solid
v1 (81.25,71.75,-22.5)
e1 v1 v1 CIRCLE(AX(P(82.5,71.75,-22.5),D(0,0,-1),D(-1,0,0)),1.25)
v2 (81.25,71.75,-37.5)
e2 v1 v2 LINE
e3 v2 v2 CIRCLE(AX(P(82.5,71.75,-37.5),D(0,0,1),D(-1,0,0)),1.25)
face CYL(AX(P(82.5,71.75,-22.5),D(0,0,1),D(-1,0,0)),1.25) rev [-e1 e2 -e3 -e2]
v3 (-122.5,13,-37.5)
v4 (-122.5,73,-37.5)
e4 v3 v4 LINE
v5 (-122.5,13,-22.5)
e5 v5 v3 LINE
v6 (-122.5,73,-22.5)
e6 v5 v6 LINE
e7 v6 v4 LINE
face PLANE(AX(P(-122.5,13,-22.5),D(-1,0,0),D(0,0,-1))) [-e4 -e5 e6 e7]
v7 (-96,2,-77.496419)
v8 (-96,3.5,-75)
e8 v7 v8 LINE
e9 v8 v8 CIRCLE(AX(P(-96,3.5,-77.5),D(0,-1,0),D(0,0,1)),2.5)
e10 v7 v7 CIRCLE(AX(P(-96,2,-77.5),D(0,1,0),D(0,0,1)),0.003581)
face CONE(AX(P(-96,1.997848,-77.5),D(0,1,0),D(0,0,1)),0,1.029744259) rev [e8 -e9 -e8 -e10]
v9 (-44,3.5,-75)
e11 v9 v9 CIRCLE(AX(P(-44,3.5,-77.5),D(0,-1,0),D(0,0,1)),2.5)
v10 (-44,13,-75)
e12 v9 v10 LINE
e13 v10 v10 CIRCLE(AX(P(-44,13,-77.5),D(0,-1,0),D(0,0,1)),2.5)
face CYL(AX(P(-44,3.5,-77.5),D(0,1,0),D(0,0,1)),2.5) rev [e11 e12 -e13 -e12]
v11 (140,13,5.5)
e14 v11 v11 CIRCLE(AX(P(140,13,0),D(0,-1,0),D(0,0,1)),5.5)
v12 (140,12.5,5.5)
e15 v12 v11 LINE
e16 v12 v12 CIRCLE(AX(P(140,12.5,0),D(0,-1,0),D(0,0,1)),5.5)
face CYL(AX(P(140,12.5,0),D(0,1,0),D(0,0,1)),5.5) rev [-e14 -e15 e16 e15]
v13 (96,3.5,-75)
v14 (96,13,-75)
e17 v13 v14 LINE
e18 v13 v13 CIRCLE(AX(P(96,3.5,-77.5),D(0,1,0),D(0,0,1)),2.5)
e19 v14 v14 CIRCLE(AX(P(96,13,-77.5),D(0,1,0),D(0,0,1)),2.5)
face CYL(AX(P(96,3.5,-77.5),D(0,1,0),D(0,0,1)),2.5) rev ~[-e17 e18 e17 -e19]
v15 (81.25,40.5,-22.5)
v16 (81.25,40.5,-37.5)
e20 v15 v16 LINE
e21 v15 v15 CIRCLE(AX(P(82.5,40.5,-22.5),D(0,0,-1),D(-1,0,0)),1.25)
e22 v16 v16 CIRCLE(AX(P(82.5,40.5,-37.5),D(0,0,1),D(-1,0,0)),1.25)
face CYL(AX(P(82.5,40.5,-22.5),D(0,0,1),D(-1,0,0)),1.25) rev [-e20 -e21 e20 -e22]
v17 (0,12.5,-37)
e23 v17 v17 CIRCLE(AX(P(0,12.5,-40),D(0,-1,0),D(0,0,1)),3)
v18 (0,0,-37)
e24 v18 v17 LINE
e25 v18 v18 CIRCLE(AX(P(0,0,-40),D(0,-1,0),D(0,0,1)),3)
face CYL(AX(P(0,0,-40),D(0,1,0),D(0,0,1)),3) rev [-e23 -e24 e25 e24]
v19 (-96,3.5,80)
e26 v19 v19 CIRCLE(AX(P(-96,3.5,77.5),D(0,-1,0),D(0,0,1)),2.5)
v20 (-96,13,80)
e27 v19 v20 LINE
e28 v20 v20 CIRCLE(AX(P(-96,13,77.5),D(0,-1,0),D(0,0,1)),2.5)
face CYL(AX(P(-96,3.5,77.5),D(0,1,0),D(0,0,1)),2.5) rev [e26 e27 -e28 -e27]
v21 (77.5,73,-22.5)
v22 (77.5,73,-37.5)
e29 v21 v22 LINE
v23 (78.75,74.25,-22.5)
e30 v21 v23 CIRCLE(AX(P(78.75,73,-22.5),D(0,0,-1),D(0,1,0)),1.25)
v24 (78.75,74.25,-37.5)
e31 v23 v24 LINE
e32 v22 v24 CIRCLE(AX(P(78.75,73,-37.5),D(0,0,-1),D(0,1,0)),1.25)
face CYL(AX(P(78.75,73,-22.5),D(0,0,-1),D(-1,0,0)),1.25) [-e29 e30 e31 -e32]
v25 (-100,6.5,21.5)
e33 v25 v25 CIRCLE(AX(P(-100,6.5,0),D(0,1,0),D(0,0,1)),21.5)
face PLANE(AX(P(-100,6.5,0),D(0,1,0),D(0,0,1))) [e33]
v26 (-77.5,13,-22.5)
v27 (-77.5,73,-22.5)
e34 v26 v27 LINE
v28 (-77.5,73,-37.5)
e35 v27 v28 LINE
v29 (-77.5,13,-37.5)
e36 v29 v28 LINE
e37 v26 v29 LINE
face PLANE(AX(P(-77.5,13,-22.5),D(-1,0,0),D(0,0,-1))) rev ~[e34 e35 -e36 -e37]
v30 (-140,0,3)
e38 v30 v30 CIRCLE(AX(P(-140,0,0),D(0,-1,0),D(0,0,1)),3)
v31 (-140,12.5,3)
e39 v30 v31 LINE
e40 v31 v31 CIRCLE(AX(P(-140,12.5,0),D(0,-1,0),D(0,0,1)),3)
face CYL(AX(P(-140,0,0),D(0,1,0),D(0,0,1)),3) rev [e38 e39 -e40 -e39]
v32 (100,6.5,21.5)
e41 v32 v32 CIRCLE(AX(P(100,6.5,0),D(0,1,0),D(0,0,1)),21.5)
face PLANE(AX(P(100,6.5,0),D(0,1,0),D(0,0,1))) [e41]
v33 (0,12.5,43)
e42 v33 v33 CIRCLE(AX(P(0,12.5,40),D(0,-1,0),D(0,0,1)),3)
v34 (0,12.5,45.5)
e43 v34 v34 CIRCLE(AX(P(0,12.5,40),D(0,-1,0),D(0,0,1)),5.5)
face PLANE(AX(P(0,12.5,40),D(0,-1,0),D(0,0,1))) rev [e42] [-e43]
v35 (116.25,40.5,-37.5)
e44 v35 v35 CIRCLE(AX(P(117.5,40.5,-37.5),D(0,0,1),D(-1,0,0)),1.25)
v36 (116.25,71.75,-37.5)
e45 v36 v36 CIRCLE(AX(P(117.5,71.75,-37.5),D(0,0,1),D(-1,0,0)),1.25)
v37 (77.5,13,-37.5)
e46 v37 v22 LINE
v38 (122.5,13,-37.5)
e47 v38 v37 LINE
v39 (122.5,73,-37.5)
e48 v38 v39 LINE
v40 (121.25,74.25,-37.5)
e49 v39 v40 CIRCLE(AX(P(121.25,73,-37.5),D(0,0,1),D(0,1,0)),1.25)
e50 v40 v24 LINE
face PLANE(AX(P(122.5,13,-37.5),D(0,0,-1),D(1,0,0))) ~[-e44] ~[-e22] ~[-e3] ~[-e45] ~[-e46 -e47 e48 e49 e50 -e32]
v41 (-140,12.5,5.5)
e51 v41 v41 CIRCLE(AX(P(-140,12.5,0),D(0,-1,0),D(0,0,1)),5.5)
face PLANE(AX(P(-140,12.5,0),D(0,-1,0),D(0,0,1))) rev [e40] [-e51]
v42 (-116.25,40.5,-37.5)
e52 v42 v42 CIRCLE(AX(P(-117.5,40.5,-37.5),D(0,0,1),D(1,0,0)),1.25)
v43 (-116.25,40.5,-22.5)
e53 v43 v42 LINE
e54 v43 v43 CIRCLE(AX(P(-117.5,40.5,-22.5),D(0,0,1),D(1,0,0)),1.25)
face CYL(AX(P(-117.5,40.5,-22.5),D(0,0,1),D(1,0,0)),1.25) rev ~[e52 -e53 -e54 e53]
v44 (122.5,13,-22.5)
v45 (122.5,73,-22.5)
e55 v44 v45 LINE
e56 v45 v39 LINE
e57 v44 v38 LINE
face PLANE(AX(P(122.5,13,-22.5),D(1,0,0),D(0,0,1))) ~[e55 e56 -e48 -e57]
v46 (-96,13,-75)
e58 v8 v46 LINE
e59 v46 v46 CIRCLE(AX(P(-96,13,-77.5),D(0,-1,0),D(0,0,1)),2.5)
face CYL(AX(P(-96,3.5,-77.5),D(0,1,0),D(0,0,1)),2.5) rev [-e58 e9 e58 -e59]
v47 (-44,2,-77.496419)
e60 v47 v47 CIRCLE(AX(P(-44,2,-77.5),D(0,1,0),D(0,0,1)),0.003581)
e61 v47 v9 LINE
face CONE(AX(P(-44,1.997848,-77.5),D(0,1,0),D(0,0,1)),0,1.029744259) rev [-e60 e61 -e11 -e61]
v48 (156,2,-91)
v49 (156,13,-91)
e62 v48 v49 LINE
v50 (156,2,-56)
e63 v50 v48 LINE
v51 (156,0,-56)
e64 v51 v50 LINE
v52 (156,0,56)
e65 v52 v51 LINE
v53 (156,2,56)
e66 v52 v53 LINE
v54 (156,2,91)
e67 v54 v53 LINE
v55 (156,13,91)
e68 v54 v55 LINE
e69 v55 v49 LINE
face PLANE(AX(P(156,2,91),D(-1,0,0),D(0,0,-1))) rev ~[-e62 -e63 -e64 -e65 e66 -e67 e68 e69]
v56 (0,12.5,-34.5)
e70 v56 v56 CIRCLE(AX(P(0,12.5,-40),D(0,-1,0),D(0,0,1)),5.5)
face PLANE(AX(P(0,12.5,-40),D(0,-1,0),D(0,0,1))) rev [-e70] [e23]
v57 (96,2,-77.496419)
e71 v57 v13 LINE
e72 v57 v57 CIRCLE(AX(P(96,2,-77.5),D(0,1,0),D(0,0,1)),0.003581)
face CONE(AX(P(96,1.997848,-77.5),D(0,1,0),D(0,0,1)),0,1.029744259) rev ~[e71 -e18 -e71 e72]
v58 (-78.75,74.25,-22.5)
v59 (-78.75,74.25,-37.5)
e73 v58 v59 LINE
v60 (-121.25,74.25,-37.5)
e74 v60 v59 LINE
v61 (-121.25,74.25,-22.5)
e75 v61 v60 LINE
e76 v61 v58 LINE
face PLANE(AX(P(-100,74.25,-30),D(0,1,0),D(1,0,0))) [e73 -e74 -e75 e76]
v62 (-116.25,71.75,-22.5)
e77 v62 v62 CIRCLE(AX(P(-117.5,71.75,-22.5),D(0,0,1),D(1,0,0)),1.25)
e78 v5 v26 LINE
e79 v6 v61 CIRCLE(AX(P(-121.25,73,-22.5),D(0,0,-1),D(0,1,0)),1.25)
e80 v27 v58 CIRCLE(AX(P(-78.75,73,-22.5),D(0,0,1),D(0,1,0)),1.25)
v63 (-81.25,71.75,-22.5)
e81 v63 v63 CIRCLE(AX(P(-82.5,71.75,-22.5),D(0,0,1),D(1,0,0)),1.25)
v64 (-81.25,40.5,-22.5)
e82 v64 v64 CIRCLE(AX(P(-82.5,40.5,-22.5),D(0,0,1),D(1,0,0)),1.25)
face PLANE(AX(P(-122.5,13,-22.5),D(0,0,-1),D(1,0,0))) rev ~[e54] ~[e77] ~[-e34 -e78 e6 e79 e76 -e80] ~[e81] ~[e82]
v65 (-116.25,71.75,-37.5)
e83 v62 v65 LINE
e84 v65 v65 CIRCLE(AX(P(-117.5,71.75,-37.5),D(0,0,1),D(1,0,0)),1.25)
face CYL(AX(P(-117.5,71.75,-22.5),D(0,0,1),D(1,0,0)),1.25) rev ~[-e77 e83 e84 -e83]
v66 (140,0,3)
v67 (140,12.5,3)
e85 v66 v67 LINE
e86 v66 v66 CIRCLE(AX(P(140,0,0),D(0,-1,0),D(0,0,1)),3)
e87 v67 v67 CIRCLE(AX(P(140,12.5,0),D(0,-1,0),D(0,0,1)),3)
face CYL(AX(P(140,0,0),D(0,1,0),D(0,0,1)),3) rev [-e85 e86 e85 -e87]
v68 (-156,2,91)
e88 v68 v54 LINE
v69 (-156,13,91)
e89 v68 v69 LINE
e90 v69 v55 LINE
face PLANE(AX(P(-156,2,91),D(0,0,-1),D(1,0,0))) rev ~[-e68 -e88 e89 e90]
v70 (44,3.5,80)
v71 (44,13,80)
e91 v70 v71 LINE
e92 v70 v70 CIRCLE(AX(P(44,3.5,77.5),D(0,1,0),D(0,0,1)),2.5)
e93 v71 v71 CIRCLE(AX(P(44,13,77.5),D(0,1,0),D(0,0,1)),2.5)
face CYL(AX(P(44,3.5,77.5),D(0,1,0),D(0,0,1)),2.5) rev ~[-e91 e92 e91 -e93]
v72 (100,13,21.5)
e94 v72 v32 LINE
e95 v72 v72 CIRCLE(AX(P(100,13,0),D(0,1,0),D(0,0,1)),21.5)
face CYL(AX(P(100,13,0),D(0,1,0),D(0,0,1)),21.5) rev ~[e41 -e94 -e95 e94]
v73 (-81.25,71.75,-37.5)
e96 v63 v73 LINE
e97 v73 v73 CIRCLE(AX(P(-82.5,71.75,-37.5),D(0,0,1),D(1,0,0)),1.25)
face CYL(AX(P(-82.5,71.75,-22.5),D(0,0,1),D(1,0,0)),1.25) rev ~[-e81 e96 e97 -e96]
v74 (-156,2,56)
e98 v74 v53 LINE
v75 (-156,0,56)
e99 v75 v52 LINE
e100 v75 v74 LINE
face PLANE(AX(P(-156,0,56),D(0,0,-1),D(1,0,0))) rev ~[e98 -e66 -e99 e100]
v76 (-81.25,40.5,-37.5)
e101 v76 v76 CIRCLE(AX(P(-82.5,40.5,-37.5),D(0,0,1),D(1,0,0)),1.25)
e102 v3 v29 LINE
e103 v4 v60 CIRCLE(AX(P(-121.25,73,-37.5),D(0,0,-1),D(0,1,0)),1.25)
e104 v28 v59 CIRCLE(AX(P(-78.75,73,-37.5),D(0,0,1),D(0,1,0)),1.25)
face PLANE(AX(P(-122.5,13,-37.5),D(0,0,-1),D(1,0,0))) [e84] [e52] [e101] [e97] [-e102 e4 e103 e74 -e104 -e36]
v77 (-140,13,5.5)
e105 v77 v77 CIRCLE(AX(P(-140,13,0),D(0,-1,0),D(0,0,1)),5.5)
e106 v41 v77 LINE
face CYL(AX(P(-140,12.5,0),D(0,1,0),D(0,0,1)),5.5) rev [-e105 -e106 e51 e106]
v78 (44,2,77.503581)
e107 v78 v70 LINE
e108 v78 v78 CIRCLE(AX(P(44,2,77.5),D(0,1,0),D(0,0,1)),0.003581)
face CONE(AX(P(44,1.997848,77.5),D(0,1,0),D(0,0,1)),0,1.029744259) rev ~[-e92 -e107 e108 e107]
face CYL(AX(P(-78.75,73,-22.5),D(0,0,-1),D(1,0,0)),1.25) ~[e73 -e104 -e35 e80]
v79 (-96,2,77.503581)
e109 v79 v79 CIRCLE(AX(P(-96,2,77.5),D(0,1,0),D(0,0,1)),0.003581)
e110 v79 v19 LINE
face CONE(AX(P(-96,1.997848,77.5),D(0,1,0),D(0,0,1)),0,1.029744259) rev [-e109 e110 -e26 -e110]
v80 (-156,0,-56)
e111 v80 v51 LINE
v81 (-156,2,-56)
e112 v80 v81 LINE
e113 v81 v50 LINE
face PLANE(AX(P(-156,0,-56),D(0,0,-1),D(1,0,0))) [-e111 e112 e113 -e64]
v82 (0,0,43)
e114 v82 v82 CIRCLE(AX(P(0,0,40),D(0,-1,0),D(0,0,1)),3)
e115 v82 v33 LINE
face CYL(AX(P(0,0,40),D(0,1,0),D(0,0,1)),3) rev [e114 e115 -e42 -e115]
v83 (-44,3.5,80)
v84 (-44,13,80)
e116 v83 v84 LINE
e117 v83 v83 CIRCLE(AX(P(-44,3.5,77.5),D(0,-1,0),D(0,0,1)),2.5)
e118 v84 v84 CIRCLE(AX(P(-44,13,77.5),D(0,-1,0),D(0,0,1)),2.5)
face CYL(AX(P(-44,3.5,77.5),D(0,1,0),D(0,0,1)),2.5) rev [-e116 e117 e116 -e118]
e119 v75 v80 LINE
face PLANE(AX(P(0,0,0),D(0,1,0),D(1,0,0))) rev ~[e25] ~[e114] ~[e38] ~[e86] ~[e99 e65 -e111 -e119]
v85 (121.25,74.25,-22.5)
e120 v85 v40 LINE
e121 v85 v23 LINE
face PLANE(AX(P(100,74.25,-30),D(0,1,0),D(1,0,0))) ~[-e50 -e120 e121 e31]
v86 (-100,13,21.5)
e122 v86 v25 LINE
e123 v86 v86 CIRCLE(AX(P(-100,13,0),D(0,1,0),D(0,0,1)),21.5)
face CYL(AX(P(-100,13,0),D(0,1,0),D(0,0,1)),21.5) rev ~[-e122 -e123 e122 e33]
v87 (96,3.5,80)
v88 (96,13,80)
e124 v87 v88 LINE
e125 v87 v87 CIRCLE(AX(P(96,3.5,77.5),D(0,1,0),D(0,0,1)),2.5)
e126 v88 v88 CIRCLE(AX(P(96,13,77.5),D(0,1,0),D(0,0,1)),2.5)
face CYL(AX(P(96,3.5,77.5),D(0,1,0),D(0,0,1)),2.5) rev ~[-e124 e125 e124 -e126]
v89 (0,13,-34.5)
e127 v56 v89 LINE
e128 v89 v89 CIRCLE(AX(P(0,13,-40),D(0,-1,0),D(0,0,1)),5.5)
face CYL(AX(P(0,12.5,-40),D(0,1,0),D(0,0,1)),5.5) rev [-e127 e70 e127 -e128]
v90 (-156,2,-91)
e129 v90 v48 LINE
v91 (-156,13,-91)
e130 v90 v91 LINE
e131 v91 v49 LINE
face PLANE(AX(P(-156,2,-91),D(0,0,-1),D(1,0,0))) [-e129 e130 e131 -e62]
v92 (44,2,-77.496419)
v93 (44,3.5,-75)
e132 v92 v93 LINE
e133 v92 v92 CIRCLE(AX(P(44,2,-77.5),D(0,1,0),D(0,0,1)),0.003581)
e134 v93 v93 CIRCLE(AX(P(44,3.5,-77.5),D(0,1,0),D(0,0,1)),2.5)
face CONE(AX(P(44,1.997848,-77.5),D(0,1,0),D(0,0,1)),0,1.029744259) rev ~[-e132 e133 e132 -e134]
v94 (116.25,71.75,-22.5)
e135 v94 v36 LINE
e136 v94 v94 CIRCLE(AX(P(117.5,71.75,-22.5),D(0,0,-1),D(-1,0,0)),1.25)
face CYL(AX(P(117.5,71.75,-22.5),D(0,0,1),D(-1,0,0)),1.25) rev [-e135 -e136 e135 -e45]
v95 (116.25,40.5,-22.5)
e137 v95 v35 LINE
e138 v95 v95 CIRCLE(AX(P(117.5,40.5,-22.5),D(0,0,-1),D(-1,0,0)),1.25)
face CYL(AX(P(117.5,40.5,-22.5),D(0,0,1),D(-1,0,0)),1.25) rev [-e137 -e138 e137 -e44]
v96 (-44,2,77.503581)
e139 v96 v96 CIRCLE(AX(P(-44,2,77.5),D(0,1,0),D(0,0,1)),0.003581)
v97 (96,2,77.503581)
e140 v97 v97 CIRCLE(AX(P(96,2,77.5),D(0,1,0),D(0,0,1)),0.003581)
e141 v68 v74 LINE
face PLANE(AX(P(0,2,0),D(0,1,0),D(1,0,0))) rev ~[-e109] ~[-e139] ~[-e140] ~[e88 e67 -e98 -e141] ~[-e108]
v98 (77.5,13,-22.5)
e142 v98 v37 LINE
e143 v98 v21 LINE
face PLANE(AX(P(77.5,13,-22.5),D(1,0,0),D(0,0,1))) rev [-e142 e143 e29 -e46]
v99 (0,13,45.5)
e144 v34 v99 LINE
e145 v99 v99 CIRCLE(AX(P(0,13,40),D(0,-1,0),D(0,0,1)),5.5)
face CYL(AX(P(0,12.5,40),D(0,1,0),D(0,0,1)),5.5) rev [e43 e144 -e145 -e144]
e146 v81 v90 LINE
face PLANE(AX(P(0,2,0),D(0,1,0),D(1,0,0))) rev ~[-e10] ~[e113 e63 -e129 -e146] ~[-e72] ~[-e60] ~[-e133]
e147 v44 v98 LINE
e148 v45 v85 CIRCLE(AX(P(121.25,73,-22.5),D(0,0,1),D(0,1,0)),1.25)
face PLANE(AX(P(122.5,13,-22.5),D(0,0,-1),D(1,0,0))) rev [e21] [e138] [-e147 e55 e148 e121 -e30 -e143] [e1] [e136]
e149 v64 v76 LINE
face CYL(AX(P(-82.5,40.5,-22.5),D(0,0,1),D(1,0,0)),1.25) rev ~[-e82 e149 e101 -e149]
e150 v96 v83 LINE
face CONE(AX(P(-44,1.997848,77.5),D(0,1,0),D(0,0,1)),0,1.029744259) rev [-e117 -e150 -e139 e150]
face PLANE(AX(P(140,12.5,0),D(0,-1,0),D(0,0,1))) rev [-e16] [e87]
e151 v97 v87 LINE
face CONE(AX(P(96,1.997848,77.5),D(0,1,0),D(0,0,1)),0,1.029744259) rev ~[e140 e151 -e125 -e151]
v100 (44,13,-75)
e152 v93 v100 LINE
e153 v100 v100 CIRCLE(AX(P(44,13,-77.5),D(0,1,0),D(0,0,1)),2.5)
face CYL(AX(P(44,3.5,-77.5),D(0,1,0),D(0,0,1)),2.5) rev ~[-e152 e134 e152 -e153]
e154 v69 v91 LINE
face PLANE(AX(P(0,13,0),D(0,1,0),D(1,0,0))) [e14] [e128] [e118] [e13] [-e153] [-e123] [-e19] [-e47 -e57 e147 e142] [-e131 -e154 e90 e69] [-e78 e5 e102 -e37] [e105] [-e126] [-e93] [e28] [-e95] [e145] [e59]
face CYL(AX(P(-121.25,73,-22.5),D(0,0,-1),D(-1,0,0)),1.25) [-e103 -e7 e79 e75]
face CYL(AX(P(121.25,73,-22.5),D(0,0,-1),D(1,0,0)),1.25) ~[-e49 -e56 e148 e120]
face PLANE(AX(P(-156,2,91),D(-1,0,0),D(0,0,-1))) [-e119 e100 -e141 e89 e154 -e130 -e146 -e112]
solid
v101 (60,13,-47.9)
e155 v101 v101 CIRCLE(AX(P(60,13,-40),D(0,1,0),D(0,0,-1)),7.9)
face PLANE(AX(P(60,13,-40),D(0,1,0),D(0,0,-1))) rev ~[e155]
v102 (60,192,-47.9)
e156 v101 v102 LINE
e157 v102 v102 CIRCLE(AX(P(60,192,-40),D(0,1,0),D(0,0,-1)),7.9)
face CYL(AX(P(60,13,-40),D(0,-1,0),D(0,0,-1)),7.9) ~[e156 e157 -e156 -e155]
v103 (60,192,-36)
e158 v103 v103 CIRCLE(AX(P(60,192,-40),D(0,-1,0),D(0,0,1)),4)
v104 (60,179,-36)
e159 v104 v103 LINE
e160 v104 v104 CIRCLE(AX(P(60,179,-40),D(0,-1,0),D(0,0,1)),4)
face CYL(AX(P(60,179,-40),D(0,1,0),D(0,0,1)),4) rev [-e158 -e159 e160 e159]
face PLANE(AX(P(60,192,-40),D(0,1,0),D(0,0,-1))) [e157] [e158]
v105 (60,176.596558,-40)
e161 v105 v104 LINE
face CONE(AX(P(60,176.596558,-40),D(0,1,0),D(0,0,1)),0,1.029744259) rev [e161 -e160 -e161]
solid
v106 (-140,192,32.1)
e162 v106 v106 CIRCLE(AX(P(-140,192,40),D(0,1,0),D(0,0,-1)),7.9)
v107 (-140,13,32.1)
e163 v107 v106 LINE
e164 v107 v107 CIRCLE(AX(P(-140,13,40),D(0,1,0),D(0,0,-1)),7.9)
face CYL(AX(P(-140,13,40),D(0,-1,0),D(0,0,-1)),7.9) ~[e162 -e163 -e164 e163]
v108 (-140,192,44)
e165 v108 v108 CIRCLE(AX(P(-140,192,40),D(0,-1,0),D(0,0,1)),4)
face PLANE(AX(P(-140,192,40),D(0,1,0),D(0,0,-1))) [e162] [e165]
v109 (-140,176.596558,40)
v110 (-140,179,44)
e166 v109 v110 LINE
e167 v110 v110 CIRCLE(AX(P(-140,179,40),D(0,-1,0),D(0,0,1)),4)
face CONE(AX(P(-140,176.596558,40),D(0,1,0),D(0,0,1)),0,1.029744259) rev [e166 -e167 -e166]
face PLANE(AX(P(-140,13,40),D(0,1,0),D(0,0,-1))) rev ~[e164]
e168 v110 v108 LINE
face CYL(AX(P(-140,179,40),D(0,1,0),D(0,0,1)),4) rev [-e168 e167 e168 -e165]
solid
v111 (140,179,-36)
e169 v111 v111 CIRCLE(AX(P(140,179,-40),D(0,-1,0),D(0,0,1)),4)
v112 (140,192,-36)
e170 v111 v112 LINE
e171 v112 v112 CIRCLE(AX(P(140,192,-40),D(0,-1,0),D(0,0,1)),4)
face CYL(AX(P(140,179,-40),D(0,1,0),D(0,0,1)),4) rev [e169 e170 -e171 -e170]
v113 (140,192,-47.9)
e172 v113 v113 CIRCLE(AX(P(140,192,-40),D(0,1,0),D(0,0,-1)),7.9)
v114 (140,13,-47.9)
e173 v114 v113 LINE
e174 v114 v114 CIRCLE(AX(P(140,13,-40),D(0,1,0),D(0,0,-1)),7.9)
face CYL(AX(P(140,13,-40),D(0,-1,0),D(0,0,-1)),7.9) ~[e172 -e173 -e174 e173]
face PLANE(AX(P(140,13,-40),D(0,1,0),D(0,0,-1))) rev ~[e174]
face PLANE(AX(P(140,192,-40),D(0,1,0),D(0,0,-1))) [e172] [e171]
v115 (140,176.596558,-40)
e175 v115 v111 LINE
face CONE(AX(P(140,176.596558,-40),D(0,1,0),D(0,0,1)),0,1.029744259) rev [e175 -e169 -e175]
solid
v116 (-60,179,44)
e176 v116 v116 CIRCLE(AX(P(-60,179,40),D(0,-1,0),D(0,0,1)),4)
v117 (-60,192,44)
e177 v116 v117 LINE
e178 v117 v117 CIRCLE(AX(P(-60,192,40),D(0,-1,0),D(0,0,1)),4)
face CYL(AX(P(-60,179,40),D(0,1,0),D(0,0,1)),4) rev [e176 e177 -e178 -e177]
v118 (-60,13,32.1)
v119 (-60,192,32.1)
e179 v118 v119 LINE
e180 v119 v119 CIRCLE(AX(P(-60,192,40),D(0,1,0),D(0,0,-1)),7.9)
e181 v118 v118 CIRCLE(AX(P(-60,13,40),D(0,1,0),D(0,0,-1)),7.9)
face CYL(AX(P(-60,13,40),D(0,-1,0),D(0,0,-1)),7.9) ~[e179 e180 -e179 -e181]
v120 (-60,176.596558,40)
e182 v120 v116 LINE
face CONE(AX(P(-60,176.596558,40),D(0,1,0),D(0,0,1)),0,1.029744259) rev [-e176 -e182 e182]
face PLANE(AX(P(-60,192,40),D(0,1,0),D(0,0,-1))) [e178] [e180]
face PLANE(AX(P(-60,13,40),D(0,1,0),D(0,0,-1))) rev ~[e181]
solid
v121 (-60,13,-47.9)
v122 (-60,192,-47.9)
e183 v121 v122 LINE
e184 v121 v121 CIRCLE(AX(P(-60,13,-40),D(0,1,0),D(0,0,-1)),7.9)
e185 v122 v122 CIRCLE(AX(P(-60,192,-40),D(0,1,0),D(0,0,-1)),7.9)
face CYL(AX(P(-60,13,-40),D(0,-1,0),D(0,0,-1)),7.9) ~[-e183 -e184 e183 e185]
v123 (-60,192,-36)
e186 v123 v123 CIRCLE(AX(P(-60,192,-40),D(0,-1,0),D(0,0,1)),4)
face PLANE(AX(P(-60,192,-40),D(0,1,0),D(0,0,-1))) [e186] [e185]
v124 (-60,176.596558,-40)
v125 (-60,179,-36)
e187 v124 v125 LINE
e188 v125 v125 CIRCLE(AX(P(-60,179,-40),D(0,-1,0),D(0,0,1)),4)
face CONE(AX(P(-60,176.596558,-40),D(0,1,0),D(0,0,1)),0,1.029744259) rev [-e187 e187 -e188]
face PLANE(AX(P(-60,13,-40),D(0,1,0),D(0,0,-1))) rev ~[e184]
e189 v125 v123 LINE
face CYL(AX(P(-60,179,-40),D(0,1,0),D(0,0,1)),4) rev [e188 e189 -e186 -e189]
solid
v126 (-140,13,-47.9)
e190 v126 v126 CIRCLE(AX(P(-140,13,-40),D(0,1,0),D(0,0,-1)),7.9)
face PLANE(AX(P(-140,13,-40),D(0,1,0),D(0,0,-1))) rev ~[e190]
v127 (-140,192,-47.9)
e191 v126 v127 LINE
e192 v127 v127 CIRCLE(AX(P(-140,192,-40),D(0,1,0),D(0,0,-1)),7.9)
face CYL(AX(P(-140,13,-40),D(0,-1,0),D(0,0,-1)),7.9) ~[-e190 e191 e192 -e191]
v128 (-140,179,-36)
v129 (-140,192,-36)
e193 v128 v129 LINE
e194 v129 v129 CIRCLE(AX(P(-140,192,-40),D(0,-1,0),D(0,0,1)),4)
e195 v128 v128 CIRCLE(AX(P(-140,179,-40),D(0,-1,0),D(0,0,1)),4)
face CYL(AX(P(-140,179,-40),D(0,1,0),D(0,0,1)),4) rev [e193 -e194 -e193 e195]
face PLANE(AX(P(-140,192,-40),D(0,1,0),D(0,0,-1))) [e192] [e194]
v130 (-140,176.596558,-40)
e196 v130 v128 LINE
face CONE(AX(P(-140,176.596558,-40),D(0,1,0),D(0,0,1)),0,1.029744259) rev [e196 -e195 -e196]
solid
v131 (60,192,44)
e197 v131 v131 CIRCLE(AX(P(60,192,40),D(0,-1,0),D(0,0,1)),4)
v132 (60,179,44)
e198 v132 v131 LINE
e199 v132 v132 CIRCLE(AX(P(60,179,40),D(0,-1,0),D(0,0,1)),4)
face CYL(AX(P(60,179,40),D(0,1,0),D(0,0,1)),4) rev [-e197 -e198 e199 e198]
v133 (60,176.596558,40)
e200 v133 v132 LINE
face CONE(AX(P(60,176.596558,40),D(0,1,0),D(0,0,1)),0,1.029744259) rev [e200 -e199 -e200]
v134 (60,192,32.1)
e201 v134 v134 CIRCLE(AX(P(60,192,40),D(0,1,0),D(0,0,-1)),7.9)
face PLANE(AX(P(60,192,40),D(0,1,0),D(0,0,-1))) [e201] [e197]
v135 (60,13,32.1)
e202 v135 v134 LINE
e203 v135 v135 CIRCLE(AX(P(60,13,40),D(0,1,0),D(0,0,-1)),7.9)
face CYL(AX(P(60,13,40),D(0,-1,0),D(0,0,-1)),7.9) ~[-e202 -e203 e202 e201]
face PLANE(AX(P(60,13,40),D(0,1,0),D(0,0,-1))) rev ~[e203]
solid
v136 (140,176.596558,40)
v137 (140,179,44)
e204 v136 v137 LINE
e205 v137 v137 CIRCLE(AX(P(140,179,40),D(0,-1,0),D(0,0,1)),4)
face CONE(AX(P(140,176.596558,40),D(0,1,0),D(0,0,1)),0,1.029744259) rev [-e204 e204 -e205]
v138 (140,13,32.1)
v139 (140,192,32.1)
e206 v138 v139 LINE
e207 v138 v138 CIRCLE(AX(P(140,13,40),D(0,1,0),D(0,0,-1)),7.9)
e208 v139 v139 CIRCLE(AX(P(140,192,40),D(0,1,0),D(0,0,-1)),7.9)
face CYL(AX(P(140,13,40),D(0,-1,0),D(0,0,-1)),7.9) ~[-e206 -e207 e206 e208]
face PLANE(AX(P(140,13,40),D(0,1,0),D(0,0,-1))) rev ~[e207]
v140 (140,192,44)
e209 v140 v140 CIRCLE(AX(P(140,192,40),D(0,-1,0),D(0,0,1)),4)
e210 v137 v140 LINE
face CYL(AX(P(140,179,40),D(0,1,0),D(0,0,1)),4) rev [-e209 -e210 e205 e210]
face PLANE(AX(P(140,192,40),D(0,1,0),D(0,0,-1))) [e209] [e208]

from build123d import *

# Parameters (mm, degrees)
SKETCH_1_W                    = 312
SKETCH_1_H                    = 112
EXTRUDE_1_DEPTH               = 2
SKETCH_2_W                    = 312
SKETCH_2_H                    = 182
EXTRUDE_2_DEPTH               = 11
SKETCH_3_R                    = 7.9
EXTRUDE_3_DEPTH               = 179
EXTRUDE_3_2_DEPTH             = 179
EXTRUDE_3_3_DEPTH             = 179
EXTRUDE_3_4_DEPTH             = 179
EXTRUDE_3_5_DEPTH             = 179
EXTRUDE_3_6_DEPTH             = 179
EXTRUDE_3_7_DEPTH             = 179
EXTRUDE_3_8_DEPTH             = 179
SKETCH_4_R                    = 21.5
CUT_EXTRUDE_2_DEPTH           = 6.5
HOLE_WIZARD_M5_1_AT_2_COUNT   = 2
HOLE_WIZARD_M5_1_AT_2_PITCH   = 52
HOLE_WIZARD_M5_1_AT_3_COUNT   = 2
HOLE_WIZARD_M5_1_AT_3_PITCH   = 163.49006086
HOLE_WIZARD_M5_1_AT_4_COUNT   = 2
HOLE_WIZARD_M5_1_AT_4_PITCH   = 155
HOLE_WIZARD_M5_1_2_AT_2_COUNT = 2
HOLE_WIZARD_M5_1_2_AT_2_PITCH = 145.602197786
HOLE_WIZARD_M5_1_2_AT_3_COUNT = 2
HOLE_WIZARD_M5_1_2_AT_3_PITCH = 145.602197786
HOLE_WIZARD_M5_1_2_AT_4_COUNT = 2
HOLE_WIZARD_M5_1_2_AT_4_PITCH = 280
HOLE_WIZARD_M8_1_AT_2_COUNT   = 2
HOLE_WIZARD_M8_1_AT_2_PITCH   = 80
HOLE_WIZARD_M8_1_AT_3_COUNT   = 2
HOLE_WIZARD_M8_1_AT_3_PITCH   = 113.13708499
HOLE_WIZARD_M8_1_AT_4_COUNT   = 2
HOLE_WIZARD_M8_1_AT_4_PITCH   = 80
HOLE_WIZARD_M8_1_AT_5_COUNT   = 2
HOLE_WIZARD_M8_1_AT_5_PITCH   = 200
HOLE_WIZARD_M8_1_AT_6_COUNT   = 2
HOLE_WIZARD_M8_1_AT_6_PITCH   = 280
HOLE_WIZARD_M8_1_AT_7_COUNT   = 2
HOLE_WIZARD_M8_1_AT_7_PITCH   = 291.204395571
HOLE_WIZARD_M8_1_AT_8_COUNT   = 2
HOLE_WIZARD_M8_1_AT_8_PITCH   = 215.406592285
SKETCH_31_W                   = 45
SKETCH_31_H                   = 15
EXTRUDE_4_DEPTH               = 61.25
SKETCH_32_R                   = 1.25
CUT_EXTRUDE_3_DEPTH           = 273.180546696
FILLET_1_R                    = 1.25
FILLET_1_OF_MIRROR_1_R        = 1.25


with BuildPart() as part:
    # 草图1 → 凸台-拉伸1 (new body)
    with BuildSketch(Plane(origin=(0, 0, 0), x_dir=(1, 0, 0), z_dir=(0, 1, 0))):
        Rectangle(SKETCH_1_W, SKETCH_1_H)
    extrude(amount=EXTRUDE_1_DEPTH)

    # 草图2 → 凸台-拉伸2 (add)
    with BuildSketch(Plane(origin=(0, 2, 0), x_dir=(1, 0, 0), z_dir=(0, 1, 0))):
        Rectangle(SKETCH_2_W, SKETCH_2_H)
    extrude(amount=EXTRUDE_2_DEPTH)

    # 草图4 → 切除-拉伸2 (cut)
    with BuildSketch(Plane(origin=(0, 13, 0), x_dir=(1, 0, 0), z_dir=(0, 1, 0))):
        with Locations(Location((-100, 0, 0), (0, 0, 270))):
            Circle(SKETCH_4_R)
        with Locations(Location((100, 0, 0), (0, 0, 270))):
            Circle(SKETCH_4_R)
    extrude(amount=-CUT_EXTRUDE_2_DEPTH, mode=Mode.SUBTRACT)

    # 草图7 → Hole Wizard M5 _1 (revolve, cut)
    with BuildSketch(Plane(origin=(-96, 13, -77.5), x_dir=(0, 0, 1), z_dir=(1, 0, 0))):
        Polygon((0, 0), (0, 11.002151548), (2.5, 9.5), (2.5, 0), align=None)
    hole_wizard_m5_1 = revolve(axis=Axis((-96, 19.35, -77.5), (0, -1, 0)), mode=Mode.SUBTRACT)

    # Hole Wizard M5 _1 at 2: Hole Wizard M5 _1 ×2
    with Locations(*[(i * HOLE_WIZARD_M5_1_AT_2_PITCH, 0, 0) for i in range(1, HOLE_WIZARD_M5_1_AT_2_COUNT)]):
        add(hole_wizard_m5_1, mode=Mode.SUBTRACT)

    # Hole Wizard M5 _1 at 3: Hole Wizard M5 _1 ×2
    with Locations(*[Vector(0.3180621484050644, 0, 0.9480698654381727) * (i * HOLE_WIZARD_M5_1_AT_3_PITCH) for i in range(1, HOLE_WIZARD_M5_1_AT_3_COUNT)]):
        add(hole_wizard_m5_1, mode=Mode.SUBTRACT)

    # Hole Wizard M5 _1 at 4: Hole Wizard M5 _1 ×2
    with Locations(*[(0, 0, i * HOLE_WIZARD_M5_1_AT_4_PITCH) for i in range(1, HOLE_WIZARD_M5_1_AT_4_COUNT)]):
        add(hole_wizard_m5_1, mode=Mode.SUBTRACT)

    # 草图26 → Hole Wizard M5 _1 2 (revolve, cut)
    with BuildSketch(Plane(origin=(-140, 13, 0), x_dir=(0, 0, 1), z_dir=(1, 0, 0))):
        Polygon((0, 0), (0, 13), (3, 13), (3, 0.5), (5.5, 0.5), (5.5, 0), align=None)
    hole_wizard_m5_1_2 = revolve(axis=Axis((-140, 19.35, 0), (0, -1, 0)), mode=Mode.SUBTRACT)

    # Hole Wizard M5 _1 2 at 2: Hole Wizard M5 _1 2 ×2
    with Locations(*[Vector(0.9615239476408232, 0, -0.274721127897378) * (i * HOLE_WIZARD_M5_1_2_AT_2_PITCH) for i in range(1, HOLE_WIZARD_M5_1_2_AT_2_COUNT)]):
        add(hole_wizard_m5_1_2, mode=Mode.SUBTRACT)

    # Hole Wizard M5 _1 2 at 3: Hole Wizard M5 _1 2 ×2
    with Locations(*[Vector(0.9615239476408232, 0, 0.274721127897378) * (i * HOLE_WIZARD_M5_1_2_AT_3_PITCH) for i in range(1, HOLE_WIZARD_M5_1_2_AT_3_COUNT)]):
        add(hole_wizard_m5_1_2, mode=Mode.SUBTRACT)

    # Hole Wizard M5 _1 2 at 4: Hole Wizard M5 _1 2 ×2
    with Locations(*[(i * HOLE_WIZARD_M5_1_2_AT_4_PITCH, 0, 0) for i in range(1, HOLE_WIZARD_M5_1_2_AT_4_COUNT)]):
        add(hole_wizard_m5_1_2, mode=Mode.SUBTRACT)

    # 草图31 → 凸台-拉伸4 (add)
    with BuildSketch(Plane(origin=(0, 13, 0), x_dir=(1, 0, 0), z_dir=(0, 1, 0))):
        with Locations((-100, 30)):
            Rectangle(SKETCH_31_W, SKETCH_31_H)
    extrude_4 = extrude(amount=EXTRUDE_4_DEPTH)

    # 草图32 → 切除-拉伸3 (cut, through all)
    with BuildSketch(Plane.XY.offset(-22.5)):
        with Locations((-117.5, 71.75)):
            Circle(SKETCH_32_R)
        with Locations((-82.5, 71.75)):
            Circle(SKETCH_32_R)
        with Locations((-82.5, 40.5)):
            Circle(SKETCH_32_R)
        with Locations((-117.5, 40.5)):
            Circle(SKETCH_32_R)
    cut_extrude_3 = extrude(amount=-CUT_EXTRUDE_3_DEPTH, mode=Mode.SUBTRACT)

    # 圆角1
    fillet_1_edges = [part.edges().sort_by_distance(p)[0] for p in [
        (-122.5, 74.25, -30),
        (-77.5, 74.25, -30),
    ]]
    fillet(fillet_1_edges, radius=FILLET_1_R)

    # 镜向1: Hole Wizard M5 _1, 凸台-拉伸4, 切除-拉伸3 across plane
    add(hole_wizard_m5_1.mirror(Plane(origin=(0, 0, 0), x_dir=(0, 0, 1), z_dir=(1, 0, 0))), mode=Mode.SUBTRACT)
    add(extrude_4.mirror(Plane(origin=(0, 0, 0), x_dir=(0, 0, 1), z_dir=(1, 0, 0))))
    add(cut_extrude_3.mirror(Plane(origin=(0, 0, 0), x_dir=(0, 0, 1), z_dir=(1, 0, 0))), mode=Mode.SUBTRACT)

    # 镜向1 copy 1 sketch → 镜向1 copy 1 (revolve, cut)
    with BuildSketch(Plane(origin=(44, 13, -77.5), x_dir=(0, 0, 1), z_dir=(-1, 0, 0))):
        Polygon((0, 0), (0, -11.002151548), (2.5, -9.5), (2.5, 0), align=None)
    revolve(axis=Axis((44, 19.35, -77.5), (0, 1, 0)), mode=Mode.SUBTRACT)

    # 镜向1 copy 2 sketch → 镜向1 copy 2 (revolve, cut)
    with BuildSketch(Plane(origin=(44, 13, 77.5), x_dir=(0, 0, 1), z_dir=(-1, 0, 0))):
        Polygon((0, 0), (0, -11.002151548), (2.5, -9.5), (2.5, 0), align=None)
    revolve(axis=Axis((44, 19.35, 77.5), (0, 1, 0)), mode=Mode.SUBTRACT)

    # 镜向1 copy 3 sketch → 镜向1 copy 3 (revolve, cut)
    with BuildSketch(Plane(origin=(96, 13, 77.5), x_dir=(0, 0, 1), z_dir=(-1, 0, 0))):
        Polygon((0, 0), (0, -11.002151548), (2.5, -9.5), (2.5, 0), align=None)
    revolve(axis=Axis((96, 19.35, 77.5), (0, 1, 0)), mode=Mode.SUBTRACT)

    # 圆角1 of 镜向1
    fillet_1_of_mirror_1_edges = [part.edges().sort_by_distance(p)[0] for p in [
        (122.5, 74.25, -30),
        (77.5, 74.25, -30),
    ]]
    fillet(fillet_1_of_mirror_1_edges, radius=FILLET_1_OF_MIRROR_1_R)


with BuildPart() as body_2:
    # 草图3 → 凸台-拉伸3 (new body)
    with BuildSketch(Plane(origin=(0, 13, 0), x_dir=(1, 0, 0), z_dir=(0, 1, 0))):
        with Locations(Location((-60, 40, 0), (0, 0, 90))):
            Circle(SKETCH_3_R)
    extrude(amount=EXTRUDE_3_DEPTH)


with BuildPart() as body_3:
    # 草图3 → Extrude 3 2 (new body)
    with BuildSketch(Plane(origin=(0, 13, 0), x_dir=(1, 0, 0), z_dir=(0, 1, 0))):
        with Locations(Location((60, 40, 0), (0, 0, 90))):
            Circle(SKETCH_3_R)
    extrude(amount=EXTRUDE_3_2_DEPTH)


with BuildPart() as body_4:
    # 草图3 → Extrude 3 3 (new body)
    with BuildSketch(Plane(origin=(0, 13, 0), x_dir=(1, 0, 0), z_dir=(0, 1, 0))):
        with Locations(Location((-60, -40, 0), (0, 0, 90))):
            Circle(SKETCH_3_R)
    extrude(amount=EXTRUDE_3_3_DEPTH)


with BuildPart() as body_5:
    # 草图3 → Extrude 3 4 (new body)
    with BuildSketch(Plane(origin=(0, 13, 0), x_dir=(1, 0, 0), z_dir=(0, 1, 0))):
        with Locations(Location((60, -40, 0), (0, 0, 90))):
            Circle(SKETCH_3_R)
    extrude(amount=EXTRUDE_3_4_DEPTH)


with BuildPart() as body_6:
    # 草图3 → Extrude 3 5 (new body)
    with BuildSketch(Plane(origin=(0, 13, 0), x_dir=(1, 0, 0), z_dir=(0, 1, 0))):
        with Locations(Location((-140, -40, 0), (0, 0, 90))):
            Circle(SKETCH_3_R)
    extrude(amount=EXTRUDE_3_5_DEPTH)


with BuildPart() as body_7:
    # 草图3 → Extrude 3 6 (new body)
    with BuildSketch(Plane(origin=(0, 13, 0), x_dir=(1, 0, 0), z_dir=(0, 1, 0))):
        with Locations(Location((-140, 40, 0), (0, 0, 90))):
            Circle(SKETCH_3_R)
    extrude(amount=EXTRUDE_3_6_DEPTH)

    # 草图28 → M8 螺纹孔的螺纹孔钻头1 (revolve, cut)
    with BuildSketch(Plane(origin=(-140, 192, -40), x_dir=(0, 0, 1), z_dir=(1, 0, 0))):
        Polygon((0, 0), (0, 15.403442476), (4, 13), (4, 0), align=None)
    hole_wizard_m8_1 = revolve(axis=Axis((-140, 198.35, -40), (0, -1, 0)), mode=Mode.SUBTRACT)


with BuildPart() as body_8:
    # 草图3 → Extrude 3 7 (new body)
    with BuildSketch(Plane(origin=(0, 13, 0), x_dir=(1, 0, 0), z_dir=(0, 1, 0))):
        with Locations(Location((140, 40, 0), (0, 0, 90))):
            Circle(SKETCH_3_R)
    extrude(amount=EXTRUDE_3_7_DEPTH)

    # M8 螺纹孔的螺纹孔钻头1 at 6: M8 螺纹孔的螺纹孔钻头1 ×2
    with Locations(*[(i * HOLE_WIZARD_M8_1_AT_6_PITCH, 0, 0) for i in range(1, HOLE_WIZARD_M8_1_AT_6_COUNT)]):
        add(hole_wizard_m8_1, mode=Mode.SUBTRACT)


with BuildPart() as body_9:
    # 草图3 → Extrude 3 8 (new body)
    with BuildSketch(Plane(origin=(0, 13, 0), x_dir=(1, 0, 0), z_dir=(0, 1, 0))):
        with Locations(Location((140, -40, 0), (0, 0, 90))):
            Circle(SKETCH_3_R)
    extrude(amount=EXTRUDE_3_8_DEPTH)

    # M8 螺纹孔的螺纹孔钻头1 at 7: M8 螺纹孔的螺纹孔钻头1 ×2
    with Locations(*[Vector(0.9615239476408232, 0, 0.274721127897378) * (i * HOLE_WIZARD_M8_1_AT_7_PITCH) for i in range(1, HOLE_WIZARD_M8_1_AT_7_COUNT)]):
        add(hole_wizard_m8_1, mode=Mode.SUBTRACT)


with BuildPart() as body_2_1:
    add(body_2.part)

    # M8 螺纹孔的螺纹孔钻头1 at 2: M8 螺纹孔的螺纹孔钻头1 ×2
    with Locations(*[(i * HOLE_WIZARD_M8_1_AT_2_PITCH, 0, 0) for i in range(1, HOLE_WIZARD_M8_1_AT_2_COUNT)]):
        add(hole_wizard_m8_1, mode=Mode.SUBTRACT)


with BuildPart() as body_4_1:
    add(body_4.part)

    # M8 螺纹孔的螺纹孔钻头1 at 3: M8 螺纹孔的螺纹孔钻头1 ×2
    with Locations(*[Vector(0.7071067811865475, 0, 0.7071067811865476) * (i * HOLE_WIZARD_M8_1_AT_3_PITCH) for i in range(1, HOLE_WIZARD_M8_1_AT_3_COUNT)]):
        add(hole_wizard_m8_1, mode=Mode.SUBTRACT)


with BuildPart() as body_6_1:
    add(body_6.part)

    # M8 螺纹孔的螺纹孔钻头1 at 4: M8 螺纹孔的螺纹孔钻头1 ×2
    with Locations(*[(0, 0, i * HOLE_WIZARD_M8_1_AT_4_PITCH) for i in range(1, HOLE_WIZARD_M8_1_AT_4_COUNT)]):
        add(hole_wizard_m8_1, mode=Mode.SUBTRACT)


with BuildPart() as body_3_1:
    add(body_3.part)

    # M8 螺纹孔的螺纹孔钻头1 at 5: M8 螺纹孔的螺纹孔钻头1 ×2
    with Locations(*[(i * HOLE_WIZARD_M8_1_AT_5_PITCH, 0, 0) for i in range(1, HOLE_WIZARD_M8_1_AT_5_COUNT)]):
        add(hole_wizard_m8_1, mode=Mode.SUBTRACT)


with BuildPart() as body_5_1:
    add(body_5.part)

    # M8 螺纹孔的螺纹孔钻头1 at 8: M8 螺纹孔的螺纹孔钻头1 ×2
    with Locations(*[Vector(0.9284766908852593, 0, 0.3713906763541037) * (i * HOLE_WIZARD_M8_1_AT_8_PITCH) for i in range(1, HOLE_WIZARD_M8_1_AT_8_COUNT)]):
        add(hole_wizard_m8_1, mode=Mode.SUBTRACT)


solid = Compound([part.part, body_7.part, body_8.part, body_9.part, body_2_1.part, body_4_1.part, body_6_1.part, body_3_1.part, body_5_1.part])
